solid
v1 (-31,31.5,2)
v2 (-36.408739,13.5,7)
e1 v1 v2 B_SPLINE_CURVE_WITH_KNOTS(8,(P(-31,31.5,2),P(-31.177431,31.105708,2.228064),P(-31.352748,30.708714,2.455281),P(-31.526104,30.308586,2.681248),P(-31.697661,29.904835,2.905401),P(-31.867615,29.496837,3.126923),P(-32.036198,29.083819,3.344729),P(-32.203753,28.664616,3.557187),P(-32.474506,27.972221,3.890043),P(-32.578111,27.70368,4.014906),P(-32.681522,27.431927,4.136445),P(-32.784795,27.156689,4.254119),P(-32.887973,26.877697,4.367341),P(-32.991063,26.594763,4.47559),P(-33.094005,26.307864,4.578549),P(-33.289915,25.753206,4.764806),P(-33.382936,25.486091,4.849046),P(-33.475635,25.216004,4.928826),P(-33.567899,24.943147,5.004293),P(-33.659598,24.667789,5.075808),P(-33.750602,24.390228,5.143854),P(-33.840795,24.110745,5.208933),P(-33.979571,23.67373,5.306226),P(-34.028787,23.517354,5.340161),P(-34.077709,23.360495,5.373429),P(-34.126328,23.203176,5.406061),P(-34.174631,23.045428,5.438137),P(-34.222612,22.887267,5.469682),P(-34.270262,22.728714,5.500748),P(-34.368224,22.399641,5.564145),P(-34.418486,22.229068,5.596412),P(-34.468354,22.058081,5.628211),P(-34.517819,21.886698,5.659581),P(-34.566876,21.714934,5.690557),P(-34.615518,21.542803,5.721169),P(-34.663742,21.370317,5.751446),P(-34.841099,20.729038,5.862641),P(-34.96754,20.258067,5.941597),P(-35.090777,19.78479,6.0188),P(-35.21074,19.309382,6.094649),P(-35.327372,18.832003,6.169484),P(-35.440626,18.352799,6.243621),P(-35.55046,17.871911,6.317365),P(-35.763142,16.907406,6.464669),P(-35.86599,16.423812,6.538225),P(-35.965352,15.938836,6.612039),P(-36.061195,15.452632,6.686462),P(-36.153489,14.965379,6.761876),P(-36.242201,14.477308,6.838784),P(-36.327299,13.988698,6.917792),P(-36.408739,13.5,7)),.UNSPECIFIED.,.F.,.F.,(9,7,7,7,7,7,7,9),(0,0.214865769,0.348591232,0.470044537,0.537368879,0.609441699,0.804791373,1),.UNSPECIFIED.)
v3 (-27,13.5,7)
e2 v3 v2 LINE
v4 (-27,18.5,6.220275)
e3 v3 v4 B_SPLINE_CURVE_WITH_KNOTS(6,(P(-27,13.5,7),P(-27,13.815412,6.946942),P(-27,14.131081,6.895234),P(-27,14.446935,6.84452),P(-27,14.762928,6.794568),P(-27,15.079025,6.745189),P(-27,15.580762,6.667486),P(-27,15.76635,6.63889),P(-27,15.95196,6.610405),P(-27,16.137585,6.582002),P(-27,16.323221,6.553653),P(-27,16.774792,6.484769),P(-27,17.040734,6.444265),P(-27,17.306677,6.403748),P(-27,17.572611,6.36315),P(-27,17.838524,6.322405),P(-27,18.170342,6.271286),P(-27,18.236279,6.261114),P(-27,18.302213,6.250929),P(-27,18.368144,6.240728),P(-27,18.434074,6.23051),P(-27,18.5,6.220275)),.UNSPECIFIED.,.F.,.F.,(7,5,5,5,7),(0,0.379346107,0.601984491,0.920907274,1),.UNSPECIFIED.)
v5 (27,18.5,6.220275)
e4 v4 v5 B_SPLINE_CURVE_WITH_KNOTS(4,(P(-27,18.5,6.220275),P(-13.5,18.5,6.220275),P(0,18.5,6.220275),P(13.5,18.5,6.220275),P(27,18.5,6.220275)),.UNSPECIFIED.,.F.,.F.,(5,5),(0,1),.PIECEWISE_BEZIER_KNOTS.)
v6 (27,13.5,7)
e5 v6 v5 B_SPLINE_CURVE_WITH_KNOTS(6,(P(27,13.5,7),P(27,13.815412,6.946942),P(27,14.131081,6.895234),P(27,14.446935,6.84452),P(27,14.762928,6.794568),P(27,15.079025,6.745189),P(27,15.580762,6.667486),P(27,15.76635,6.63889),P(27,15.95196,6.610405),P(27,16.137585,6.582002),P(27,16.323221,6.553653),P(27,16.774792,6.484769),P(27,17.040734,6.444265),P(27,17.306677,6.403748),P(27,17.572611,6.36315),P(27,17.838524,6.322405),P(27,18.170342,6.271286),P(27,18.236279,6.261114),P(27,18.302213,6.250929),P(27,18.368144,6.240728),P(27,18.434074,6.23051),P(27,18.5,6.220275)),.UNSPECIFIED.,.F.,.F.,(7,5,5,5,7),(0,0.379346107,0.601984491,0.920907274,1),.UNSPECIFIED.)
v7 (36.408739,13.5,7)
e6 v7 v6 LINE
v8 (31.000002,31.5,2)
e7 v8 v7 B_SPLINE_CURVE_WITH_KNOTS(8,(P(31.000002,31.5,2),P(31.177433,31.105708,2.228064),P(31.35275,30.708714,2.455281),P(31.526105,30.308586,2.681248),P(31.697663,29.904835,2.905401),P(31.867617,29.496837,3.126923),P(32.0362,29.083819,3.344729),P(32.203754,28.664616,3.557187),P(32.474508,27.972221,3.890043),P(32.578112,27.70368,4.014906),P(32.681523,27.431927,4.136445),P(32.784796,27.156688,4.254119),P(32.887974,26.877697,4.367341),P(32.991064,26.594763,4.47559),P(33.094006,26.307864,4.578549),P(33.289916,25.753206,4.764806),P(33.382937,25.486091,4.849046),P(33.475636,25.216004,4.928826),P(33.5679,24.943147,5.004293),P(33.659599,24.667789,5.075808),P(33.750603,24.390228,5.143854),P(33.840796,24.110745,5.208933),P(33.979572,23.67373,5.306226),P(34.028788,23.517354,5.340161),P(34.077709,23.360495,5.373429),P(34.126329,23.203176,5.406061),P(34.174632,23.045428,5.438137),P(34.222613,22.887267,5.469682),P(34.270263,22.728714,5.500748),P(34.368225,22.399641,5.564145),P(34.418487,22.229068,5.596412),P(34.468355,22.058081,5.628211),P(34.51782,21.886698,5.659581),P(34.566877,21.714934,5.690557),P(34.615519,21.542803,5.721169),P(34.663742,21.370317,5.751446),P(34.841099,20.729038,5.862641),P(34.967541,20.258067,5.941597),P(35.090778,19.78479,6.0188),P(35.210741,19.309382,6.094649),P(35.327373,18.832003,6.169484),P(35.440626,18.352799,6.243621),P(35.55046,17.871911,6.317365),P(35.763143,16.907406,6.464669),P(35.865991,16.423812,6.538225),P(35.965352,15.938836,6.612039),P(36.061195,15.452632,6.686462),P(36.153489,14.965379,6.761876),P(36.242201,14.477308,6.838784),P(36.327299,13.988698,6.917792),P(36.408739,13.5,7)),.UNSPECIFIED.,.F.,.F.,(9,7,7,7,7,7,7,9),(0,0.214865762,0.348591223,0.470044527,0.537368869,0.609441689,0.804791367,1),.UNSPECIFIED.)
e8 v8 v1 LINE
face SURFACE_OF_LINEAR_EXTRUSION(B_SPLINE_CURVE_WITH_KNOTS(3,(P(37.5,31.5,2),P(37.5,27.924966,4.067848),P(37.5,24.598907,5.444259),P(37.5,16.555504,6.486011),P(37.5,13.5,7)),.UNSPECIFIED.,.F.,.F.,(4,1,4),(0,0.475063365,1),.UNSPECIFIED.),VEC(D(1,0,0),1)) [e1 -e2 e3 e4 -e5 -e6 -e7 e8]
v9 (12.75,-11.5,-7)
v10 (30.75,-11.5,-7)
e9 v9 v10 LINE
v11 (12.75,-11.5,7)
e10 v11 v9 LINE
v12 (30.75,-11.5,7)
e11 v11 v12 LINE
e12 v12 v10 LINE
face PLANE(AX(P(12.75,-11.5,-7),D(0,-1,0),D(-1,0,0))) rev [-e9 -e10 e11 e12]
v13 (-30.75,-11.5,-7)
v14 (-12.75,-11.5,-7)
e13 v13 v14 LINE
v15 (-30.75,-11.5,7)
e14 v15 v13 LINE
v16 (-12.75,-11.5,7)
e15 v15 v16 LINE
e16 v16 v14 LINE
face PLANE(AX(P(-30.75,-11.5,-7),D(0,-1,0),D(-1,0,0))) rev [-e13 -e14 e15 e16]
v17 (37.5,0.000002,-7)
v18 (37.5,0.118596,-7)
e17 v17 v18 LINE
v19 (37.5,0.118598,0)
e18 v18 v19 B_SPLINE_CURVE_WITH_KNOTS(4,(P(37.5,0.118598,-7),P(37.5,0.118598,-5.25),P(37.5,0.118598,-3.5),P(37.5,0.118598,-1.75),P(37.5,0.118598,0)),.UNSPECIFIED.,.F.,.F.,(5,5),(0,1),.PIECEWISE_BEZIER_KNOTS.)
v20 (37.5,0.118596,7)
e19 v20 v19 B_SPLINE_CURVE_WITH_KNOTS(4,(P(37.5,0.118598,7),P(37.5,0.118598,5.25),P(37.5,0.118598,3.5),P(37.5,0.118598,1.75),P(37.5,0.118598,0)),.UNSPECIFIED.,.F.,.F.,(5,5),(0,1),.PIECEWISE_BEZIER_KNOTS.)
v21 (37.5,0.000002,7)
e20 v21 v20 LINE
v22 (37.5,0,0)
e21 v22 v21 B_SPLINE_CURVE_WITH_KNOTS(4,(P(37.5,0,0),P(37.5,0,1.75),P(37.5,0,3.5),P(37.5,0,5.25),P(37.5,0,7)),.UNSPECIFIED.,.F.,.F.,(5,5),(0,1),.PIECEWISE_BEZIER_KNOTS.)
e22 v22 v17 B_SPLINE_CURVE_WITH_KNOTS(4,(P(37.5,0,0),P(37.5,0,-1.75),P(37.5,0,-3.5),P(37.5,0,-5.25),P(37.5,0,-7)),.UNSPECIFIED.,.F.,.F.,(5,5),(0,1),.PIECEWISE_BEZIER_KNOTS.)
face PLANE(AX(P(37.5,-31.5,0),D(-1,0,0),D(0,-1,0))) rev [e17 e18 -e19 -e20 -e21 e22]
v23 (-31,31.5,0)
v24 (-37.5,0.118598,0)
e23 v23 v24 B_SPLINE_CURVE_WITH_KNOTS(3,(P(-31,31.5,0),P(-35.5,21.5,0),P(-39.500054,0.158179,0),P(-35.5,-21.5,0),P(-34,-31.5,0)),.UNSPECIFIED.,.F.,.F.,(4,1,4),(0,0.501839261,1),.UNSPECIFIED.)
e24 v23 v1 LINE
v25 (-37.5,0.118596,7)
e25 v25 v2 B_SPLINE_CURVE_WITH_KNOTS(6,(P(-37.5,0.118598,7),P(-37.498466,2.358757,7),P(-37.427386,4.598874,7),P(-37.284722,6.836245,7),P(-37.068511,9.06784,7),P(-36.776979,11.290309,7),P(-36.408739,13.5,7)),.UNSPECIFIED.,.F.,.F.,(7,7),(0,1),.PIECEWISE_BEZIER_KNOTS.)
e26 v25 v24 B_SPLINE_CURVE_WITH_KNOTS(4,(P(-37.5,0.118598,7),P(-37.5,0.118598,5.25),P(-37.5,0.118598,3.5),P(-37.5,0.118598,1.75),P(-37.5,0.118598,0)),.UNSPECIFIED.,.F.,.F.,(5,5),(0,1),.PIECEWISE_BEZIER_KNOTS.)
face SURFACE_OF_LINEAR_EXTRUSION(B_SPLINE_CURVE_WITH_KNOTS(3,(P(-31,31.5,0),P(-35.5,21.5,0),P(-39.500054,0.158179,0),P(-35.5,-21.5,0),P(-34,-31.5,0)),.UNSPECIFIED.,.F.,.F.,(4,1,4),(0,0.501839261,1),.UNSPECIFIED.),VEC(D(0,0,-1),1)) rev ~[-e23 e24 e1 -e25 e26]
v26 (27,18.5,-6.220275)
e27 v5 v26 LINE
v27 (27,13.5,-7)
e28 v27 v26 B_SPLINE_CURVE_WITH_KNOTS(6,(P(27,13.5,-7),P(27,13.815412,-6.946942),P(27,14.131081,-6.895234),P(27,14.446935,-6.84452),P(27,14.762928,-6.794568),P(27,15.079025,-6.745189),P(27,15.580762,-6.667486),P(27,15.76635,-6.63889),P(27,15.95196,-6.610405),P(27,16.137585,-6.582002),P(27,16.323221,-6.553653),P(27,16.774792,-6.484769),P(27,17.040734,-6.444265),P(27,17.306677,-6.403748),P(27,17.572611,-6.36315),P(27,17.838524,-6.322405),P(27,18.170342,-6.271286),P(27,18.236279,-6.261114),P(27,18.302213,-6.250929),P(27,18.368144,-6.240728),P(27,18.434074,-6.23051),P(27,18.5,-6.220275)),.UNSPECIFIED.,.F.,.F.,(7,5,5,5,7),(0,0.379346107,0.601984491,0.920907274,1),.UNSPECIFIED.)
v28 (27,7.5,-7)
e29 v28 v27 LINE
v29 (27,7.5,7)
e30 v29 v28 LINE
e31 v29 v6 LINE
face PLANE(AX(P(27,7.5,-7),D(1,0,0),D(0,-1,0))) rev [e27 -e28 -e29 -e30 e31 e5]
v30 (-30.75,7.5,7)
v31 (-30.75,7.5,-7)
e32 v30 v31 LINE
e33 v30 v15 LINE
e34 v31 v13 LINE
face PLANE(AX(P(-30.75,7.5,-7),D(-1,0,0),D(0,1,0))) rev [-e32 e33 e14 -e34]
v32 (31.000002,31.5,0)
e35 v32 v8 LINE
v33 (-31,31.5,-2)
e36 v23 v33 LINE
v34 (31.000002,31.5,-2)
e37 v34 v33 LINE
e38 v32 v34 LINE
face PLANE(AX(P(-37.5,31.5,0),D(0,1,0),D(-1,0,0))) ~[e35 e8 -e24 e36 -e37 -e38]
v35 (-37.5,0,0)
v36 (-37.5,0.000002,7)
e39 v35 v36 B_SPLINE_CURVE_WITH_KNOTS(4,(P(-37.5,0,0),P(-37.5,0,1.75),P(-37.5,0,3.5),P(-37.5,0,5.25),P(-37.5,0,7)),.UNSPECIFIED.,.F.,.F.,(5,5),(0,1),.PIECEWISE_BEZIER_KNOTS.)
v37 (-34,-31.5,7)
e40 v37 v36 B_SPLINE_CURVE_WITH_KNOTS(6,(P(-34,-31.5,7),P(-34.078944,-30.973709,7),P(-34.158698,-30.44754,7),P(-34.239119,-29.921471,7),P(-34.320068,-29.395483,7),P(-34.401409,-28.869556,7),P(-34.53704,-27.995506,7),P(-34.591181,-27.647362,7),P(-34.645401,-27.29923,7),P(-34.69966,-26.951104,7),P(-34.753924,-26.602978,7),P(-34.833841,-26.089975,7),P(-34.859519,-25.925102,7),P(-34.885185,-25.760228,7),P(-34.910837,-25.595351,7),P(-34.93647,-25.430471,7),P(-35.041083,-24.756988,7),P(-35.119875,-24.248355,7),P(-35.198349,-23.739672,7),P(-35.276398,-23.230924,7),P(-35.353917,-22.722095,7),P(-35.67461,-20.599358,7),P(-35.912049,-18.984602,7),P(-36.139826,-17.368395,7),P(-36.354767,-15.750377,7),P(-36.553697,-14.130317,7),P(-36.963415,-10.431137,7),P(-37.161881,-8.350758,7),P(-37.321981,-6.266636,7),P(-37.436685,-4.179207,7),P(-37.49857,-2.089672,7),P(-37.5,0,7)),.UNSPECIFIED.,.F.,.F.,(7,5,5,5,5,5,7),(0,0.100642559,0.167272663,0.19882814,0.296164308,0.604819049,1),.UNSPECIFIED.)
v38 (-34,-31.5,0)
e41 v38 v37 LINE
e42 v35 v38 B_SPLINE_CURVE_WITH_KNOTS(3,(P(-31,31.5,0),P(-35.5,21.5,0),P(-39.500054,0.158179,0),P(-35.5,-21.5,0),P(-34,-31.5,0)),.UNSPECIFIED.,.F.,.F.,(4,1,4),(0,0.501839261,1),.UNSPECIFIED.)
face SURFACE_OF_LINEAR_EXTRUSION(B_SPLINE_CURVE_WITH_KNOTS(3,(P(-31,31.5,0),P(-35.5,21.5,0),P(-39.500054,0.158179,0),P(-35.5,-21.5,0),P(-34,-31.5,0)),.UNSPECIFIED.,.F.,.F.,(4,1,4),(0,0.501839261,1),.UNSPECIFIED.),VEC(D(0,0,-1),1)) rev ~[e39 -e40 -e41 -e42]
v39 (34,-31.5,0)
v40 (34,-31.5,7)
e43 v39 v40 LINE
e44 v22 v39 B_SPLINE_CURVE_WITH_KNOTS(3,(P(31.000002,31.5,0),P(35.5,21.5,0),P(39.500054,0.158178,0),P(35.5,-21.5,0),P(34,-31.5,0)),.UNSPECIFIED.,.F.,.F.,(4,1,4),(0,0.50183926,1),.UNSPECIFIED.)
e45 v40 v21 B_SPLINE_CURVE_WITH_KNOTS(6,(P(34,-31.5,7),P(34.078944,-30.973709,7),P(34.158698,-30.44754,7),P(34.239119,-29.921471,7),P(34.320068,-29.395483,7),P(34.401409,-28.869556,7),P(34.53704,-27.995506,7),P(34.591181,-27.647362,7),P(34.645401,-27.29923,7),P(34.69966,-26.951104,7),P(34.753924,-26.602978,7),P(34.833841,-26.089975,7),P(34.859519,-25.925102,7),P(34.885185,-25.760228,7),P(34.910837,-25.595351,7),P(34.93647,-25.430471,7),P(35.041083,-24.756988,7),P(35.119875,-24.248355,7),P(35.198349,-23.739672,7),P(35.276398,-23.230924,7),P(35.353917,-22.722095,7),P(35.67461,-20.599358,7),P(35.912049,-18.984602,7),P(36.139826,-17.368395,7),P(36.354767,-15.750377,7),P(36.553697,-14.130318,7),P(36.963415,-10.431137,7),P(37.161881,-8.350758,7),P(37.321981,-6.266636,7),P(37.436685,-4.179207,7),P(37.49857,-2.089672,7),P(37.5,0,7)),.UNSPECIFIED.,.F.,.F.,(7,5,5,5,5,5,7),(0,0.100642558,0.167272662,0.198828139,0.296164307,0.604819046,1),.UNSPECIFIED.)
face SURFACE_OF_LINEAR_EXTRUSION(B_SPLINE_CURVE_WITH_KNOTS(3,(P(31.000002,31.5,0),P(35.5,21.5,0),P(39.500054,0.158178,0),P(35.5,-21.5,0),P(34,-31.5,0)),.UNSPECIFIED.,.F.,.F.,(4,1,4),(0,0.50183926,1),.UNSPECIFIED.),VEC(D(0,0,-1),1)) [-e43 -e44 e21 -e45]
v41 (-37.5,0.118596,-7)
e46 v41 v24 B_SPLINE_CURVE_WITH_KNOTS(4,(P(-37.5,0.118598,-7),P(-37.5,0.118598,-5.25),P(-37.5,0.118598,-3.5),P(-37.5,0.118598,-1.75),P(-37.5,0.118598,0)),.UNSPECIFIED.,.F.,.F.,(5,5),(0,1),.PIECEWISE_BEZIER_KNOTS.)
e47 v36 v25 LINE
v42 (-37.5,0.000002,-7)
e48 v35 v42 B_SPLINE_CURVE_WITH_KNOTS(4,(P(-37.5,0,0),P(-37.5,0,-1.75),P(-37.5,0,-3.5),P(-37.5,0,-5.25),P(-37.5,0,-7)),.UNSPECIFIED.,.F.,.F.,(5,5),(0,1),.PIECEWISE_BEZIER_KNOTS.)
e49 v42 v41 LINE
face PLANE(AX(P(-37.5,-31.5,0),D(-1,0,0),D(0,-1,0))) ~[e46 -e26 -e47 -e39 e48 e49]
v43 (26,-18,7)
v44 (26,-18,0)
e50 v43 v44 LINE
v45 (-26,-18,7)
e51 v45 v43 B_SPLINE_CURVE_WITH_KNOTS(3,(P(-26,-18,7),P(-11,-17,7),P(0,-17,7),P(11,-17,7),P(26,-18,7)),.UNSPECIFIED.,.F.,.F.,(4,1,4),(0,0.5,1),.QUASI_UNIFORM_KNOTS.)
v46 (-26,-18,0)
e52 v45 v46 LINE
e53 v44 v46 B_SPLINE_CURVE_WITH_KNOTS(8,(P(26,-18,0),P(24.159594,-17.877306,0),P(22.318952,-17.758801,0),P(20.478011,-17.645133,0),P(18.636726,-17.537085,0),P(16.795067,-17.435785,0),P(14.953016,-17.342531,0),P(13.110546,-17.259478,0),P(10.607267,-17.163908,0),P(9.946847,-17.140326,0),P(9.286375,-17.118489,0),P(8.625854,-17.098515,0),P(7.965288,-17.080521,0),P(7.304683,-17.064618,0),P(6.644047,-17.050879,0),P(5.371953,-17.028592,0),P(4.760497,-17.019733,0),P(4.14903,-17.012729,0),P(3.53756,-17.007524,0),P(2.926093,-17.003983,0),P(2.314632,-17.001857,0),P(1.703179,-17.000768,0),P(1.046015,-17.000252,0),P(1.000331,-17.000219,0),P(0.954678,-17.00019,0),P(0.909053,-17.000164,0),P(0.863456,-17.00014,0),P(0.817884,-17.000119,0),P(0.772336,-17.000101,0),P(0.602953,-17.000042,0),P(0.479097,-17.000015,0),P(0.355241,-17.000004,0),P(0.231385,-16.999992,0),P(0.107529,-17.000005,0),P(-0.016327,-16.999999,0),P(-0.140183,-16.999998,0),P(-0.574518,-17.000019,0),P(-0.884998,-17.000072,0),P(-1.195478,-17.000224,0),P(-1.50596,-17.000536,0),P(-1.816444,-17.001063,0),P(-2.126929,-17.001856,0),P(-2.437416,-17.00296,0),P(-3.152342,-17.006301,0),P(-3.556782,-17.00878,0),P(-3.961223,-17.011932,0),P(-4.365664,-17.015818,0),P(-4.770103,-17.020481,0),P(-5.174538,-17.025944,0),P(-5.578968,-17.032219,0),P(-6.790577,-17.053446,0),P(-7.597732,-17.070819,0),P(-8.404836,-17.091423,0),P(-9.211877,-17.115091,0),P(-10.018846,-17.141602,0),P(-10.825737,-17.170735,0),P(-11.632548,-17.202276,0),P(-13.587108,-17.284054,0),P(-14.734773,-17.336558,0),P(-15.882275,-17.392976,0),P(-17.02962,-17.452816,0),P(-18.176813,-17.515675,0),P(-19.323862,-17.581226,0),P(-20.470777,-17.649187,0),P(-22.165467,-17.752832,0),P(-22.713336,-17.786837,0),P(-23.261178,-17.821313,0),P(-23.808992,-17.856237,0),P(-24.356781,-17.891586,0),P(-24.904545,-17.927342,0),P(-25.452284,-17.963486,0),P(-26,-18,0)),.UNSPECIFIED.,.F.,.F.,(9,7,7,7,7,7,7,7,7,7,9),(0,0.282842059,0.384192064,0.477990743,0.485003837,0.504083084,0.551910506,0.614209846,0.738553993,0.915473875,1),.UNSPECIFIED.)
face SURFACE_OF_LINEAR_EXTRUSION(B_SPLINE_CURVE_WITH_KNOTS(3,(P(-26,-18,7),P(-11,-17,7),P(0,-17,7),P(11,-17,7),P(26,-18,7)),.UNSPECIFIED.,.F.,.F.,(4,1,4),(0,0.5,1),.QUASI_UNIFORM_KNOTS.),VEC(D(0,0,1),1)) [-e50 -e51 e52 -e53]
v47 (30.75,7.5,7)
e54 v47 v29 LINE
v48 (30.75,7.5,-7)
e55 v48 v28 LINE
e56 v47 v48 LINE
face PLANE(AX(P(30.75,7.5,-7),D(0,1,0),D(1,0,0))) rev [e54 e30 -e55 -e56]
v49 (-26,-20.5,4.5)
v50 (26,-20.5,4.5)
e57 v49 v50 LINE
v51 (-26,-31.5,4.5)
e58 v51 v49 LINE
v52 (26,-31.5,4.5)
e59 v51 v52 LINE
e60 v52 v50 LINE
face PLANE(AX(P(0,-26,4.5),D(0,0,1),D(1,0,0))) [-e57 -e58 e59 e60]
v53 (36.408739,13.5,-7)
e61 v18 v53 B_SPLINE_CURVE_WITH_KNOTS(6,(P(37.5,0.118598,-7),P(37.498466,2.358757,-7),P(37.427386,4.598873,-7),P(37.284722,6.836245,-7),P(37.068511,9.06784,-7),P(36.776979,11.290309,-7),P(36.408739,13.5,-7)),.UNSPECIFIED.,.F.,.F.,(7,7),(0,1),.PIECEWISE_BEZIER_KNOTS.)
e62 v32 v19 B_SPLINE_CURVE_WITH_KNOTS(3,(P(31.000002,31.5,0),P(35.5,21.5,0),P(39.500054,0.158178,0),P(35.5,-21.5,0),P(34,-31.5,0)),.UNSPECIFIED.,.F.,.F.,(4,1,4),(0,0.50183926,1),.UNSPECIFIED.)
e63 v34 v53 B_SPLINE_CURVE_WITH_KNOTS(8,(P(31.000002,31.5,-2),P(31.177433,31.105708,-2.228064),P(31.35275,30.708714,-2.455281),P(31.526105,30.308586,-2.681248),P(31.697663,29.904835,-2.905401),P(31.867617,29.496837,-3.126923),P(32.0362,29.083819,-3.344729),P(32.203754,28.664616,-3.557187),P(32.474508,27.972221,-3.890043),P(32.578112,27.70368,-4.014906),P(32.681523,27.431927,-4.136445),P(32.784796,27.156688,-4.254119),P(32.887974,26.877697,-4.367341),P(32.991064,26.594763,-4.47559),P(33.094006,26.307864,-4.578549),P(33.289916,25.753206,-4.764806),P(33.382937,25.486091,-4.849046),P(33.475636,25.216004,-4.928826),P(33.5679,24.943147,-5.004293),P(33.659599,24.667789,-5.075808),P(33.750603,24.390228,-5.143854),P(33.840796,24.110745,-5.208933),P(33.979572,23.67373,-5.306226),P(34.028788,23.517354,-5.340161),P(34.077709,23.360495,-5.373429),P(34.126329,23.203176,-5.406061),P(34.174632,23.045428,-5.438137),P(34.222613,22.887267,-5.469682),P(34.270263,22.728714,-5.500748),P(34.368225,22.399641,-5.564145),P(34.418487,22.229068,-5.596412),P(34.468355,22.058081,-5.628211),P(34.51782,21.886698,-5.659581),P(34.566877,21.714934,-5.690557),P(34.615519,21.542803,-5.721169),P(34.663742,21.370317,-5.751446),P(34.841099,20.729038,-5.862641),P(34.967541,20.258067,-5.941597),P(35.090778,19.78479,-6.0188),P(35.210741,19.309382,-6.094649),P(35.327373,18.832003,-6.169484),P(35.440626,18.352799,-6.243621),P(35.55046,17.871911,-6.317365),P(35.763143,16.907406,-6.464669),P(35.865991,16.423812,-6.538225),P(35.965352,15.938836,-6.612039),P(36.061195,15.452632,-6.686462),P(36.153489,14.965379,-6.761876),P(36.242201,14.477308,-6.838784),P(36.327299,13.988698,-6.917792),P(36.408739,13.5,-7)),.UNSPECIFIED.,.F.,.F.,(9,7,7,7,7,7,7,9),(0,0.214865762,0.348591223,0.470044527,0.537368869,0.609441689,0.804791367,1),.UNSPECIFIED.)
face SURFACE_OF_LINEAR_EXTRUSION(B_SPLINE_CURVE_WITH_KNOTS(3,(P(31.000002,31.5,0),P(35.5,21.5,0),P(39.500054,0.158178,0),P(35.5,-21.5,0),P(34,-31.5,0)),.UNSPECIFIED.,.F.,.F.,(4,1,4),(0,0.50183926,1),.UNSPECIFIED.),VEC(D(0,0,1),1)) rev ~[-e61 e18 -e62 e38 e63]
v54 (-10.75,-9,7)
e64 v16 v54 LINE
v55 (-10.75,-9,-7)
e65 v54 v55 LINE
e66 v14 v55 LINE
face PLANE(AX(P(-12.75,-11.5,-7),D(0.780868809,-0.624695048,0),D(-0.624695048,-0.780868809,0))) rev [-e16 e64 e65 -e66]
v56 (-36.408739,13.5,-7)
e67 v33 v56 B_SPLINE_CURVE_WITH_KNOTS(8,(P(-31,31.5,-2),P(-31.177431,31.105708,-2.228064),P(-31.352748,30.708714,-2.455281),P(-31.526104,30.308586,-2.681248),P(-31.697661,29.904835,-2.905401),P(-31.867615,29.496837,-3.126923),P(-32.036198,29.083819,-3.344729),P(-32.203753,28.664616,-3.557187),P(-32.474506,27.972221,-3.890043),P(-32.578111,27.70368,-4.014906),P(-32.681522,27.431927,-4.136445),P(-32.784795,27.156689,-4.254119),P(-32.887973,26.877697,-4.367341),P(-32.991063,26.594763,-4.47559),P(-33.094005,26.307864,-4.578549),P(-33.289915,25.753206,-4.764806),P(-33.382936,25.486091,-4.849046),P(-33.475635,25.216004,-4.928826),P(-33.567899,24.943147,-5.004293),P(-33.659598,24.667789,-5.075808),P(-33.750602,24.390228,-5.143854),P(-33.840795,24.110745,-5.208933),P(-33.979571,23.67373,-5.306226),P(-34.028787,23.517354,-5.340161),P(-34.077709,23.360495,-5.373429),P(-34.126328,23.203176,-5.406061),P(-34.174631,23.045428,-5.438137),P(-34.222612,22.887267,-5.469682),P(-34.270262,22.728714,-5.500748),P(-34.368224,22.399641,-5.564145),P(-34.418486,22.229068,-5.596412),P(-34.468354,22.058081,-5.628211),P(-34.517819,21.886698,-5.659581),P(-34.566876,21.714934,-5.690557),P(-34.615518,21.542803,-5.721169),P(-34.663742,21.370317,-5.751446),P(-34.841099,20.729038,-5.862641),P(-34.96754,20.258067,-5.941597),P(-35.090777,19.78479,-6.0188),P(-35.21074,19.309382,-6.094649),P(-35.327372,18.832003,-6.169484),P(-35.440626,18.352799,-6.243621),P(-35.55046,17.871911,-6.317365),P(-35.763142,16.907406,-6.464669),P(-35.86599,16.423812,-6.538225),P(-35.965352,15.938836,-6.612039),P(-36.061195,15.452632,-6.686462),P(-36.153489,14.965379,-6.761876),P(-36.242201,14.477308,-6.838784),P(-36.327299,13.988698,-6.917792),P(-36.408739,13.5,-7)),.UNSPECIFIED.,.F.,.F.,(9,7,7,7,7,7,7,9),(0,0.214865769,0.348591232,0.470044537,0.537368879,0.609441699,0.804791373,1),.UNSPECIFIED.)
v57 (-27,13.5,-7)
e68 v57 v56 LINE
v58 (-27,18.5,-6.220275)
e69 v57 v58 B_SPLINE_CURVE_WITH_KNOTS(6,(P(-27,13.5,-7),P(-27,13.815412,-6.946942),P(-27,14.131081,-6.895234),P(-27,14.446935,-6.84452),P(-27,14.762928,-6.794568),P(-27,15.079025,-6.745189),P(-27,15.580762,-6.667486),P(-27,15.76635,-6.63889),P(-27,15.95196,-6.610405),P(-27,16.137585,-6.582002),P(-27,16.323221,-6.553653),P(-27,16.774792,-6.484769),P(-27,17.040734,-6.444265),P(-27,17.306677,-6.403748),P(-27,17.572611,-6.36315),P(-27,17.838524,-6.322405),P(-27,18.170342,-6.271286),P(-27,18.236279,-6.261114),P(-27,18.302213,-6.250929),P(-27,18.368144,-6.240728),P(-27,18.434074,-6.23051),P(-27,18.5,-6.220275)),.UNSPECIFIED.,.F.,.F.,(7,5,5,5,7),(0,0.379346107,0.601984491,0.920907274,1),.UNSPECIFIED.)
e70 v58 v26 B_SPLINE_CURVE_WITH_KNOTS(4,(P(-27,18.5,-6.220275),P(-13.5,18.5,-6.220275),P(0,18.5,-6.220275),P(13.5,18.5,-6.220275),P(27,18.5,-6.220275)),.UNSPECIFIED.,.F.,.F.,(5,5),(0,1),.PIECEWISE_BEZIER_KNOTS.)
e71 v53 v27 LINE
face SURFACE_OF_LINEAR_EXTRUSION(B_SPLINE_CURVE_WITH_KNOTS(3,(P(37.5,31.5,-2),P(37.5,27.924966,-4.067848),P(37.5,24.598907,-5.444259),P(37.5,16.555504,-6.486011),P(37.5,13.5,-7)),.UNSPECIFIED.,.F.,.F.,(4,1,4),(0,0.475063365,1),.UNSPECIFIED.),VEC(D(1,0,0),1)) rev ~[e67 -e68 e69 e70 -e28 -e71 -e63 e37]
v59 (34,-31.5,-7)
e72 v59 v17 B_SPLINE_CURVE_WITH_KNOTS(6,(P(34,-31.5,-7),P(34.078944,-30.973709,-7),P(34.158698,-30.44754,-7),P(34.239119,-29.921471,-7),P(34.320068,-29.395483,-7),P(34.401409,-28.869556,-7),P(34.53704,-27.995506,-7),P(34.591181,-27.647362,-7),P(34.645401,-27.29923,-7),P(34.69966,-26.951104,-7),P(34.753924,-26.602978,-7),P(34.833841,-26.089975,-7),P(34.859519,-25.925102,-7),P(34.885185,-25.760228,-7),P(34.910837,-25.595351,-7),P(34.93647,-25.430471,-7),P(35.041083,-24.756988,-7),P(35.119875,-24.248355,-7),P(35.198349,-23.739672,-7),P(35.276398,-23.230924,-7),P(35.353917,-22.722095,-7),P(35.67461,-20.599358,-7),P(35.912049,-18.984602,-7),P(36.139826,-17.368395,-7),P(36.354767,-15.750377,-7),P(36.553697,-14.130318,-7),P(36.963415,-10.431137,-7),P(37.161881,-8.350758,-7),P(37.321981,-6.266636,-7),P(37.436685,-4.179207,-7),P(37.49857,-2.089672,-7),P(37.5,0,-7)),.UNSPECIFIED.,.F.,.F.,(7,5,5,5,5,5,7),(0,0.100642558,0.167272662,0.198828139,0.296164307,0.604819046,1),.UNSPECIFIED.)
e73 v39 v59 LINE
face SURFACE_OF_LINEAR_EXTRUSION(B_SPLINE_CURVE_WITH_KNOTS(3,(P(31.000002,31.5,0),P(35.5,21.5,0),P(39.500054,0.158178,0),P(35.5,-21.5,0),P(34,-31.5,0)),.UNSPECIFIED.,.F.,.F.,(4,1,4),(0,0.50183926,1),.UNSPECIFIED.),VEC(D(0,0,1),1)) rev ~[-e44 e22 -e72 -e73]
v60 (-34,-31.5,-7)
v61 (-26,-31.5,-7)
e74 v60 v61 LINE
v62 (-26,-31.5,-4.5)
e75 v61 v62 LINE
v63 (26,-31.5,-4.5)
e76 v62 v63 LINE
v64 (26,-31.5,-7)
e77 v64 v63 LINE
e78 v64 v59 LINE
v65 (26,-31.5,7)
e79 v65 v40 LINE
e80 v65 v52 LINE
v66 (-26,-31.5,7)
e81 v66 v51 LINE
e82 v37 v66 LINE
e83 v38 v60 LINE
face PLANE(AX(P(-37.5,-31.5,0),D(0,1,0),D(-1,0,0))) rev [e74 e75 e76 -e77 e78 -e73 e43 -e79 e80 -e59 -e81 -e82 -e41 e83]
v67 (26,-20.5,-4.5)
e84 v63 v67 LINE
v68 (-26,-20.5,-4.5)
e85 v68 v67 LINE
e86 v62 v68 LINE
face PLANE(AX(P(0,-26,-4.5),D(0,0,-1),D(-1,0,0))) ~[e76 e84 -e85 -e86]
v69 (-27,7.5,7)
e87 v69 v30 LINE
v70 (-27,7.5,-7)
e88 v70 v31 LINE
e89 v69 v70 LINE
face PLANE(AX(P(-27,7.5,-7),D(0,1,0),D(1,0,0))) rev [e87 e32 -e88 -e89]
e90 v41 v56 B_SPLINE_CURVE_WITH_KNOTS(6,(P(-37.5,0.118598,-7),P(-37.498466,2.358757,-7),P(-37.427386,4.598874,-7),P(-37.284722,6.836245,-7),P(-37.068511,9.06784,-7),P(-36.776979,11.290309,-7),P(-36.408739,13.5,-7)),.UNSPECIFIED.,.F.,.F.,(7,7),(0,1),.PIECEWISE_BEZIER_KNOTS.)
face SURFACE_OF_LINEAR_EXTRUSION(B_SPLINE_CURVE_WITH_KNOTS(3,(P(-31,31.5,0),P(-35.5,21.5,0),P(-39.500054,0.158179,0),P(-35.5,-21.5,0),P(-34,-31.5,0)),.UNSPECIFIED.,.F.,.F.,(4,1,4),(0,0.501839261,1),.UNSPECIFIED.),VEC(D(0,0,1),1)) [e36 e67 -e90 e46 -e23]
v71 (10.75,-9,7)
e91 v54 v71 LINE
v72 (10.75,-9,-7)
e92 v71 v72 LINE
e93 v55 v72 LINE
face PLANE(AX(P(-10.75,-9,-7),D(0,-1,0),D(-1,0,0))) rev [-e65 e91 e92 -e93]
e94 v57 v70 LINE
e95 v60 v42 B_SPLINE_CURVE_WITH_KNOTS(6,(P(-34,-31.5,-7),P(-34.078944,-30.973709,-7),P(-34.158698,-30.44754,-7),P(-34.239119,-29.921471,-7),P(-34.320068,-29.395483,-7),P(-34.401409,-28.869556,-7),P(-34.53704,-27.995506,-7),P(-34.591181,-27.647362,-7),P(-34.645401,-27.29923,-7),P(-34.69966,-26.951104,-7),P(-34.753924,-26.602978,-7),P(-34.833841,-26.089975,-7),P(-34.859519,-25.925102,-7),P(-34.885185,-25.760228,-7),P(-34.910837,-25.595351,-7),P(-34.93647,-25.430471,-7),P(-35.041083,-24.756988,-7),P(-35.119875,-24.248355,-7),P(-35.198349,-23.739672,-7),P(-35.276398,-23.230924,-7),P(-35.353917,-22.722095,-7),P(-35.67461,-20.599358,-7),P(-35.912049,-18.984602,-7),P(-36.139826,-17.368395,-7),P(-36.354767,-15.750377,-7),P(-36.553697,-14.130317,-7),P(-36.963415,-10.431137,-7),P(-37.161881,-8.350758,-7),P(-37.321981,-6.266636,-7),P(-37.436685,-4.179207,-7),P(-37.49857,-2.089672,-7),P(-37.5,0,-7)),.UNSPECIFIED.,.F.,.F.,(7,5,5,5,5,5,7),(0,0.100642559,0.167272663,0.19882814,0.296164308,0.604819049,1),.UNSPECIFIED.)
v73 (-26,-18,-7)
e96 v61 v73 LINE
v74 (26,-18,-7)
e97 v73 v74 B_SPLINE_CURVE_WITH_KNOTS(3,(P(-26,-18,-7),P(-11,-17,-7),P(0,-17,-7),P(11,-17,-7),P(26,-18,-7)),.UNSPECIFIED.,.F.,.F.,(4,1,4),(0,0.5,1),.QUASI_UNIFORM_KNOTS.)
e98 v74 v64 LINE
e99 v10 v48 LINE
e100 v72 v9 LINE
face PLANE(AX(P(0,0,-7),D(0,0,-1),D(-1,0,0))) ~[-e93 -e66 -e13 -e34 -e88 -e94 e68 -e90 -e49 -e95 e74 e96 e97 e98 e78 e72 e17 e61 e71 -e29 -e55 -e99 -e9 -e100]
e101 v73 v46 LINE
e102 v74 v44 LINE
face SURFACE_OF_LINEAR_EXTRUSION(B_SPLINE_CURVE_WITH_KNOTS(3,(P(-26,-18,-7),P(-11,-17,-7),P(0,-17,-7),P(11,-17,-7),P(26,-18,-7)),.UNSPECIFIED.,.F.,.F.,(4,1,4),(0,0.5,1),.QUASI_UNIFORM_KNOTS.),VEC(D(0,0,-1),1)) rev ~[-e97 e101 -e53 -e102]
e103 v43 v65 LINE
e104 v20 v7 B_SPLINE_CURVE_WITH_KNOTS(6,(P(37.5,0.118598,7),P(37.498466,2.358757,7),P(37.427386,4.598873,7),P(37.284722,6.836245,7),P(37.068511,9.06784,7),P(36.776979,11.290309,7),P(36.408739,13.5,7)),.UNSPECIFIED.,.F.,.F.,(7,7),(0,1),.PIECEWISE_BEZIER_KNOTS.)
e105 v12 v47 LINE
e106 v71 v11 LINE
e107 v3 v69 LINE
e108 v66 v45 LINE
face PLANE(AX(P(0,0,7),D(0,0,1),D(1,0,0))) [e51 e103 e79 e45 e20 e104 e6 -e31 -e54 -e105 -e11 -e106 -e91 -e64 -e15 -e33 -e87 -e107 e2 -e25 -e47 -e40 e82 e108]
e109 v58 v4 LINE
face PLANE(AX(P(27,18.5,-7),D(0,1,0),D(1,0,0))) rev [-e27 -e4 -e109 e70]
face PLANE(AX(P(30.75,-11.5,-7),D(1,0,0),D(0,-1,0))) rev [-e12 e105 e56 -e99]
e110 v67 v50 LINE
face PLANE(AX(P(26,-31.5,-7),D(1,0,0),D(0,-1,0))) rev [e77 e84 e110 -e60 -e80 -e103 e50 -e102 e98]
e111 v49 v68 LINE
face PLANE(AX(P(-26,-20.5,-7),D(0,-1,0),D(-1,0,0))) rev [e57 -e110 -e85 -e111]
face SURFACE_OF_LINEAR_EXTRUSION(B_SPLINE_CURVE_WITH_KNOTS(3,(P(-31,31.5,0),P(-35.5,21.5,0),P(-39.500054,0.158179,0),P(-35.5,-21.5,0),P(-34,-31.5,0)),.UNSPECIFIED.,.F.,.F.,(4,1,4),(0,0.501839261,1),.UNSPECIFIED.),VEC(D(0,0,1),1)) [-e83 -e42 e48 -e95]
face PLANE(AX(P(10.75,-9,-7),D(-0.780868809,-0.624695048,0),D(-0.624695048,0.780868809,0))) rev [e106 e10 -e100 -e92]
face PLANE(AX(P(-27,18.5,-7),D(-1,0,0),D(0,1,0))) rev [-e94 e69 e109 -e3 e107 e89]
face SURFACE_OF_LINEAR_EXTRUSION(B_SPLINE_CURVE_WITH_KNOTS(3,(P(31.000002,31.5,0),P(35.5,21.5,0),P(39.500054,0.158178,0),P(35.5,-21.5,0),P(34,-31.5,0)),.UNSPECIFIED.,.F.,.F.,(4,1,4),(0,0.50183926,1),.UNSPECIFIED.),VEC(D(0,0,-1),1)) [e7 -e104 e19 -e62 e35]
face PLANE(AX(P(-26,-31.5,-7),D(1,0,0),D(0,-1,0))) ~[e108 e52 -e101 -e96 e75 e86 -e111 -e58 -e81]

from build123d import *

# Parameters (mm, degrees)
F0_W      = 75
F0_H      = 63
F1_DEPTH  = 7
F3_DEPTH  = 25
F5_DEPTH  = 25
F7_W      = 52
F7_H      = 11
F8_DEPTH  = 2.5
F10_DEPTH = 80
F12_DEPTH = 25


with BuildPart() as f1:
    # F0 (on Top) → F1 (new body)
    with BuildSketch(Plane.XY):
        Rectangle(F0_W, F0_H)
    extrude(amount=F1_DEPTH)

    # F2 (on face) → F3 (cut)
    with BuildSketch(Plane.XY.offset(7)):
        Polygon((27, 18.5), (-27, 18.5), (-27, 7.5), (-30.75, 7.5), (-30.75, -11.5), (-12.75, -11.5), (-10.75, -9), (10.75, -9), (12.75, -11.5), (30.75, -11.5), (30.75, 7.5), (27, 7.5), align=None)
    extrude(amount=-F3_DEPTH, mode=Mode.SUBTRACT)

    # F4 (on face) → F5 (cut)
    with BuildSketch(Plane.XY.offset(7)):
        with BuildLine():
            Line((-26, -18), (-26, -20.5))
            Line((-26, -20.5), (26, -20.5))
            Line((26, -20.5), (26, -18))
            add(Edge.make_bspline(
                [(-26, -18), (-11, -17), (0, -17), (11, -17), (26, -18)],
                knots=[0, 0, 0, 0, 0.5, 1, 1, 1, 1], degree=3))
        make_face()
    extrude(amount=-F5_DEPTH, mode=Mode.SUBTRACT)

    # F7 (on face) → F8 (cut)
    with BuildSketch(Plane.XY.offset(7)):
        with Locations((0, -26)):
            Rectangle(F7_W, F7_H)
    extrude(amount=-F8_DEPTH, mode=Mode.SUBTRACT)

    # F9 (on face) → F10 (cut)
    with BuildSketch(Plane.YZ.offset(37.5)):
        with BuildLine():
            Line((-31.5, 11.1092058942), (-31.5, 7))
            Line((-31.5, 7), (13.5, 7))
            add(Edge.make_bspline(
                [(31.5, 2), (27.9249660671, 4.0678475052), (24.5989065318, 5.4442587825), (16.5555038096, 6.4860110295), (13.5, 7)],
                knots=[0, 0, 0, 0, 0.4750633648, 1, 1, 1, 1], degree=3))
            Line((31.5, 2), (31.5, 11.1092058942))
            Line((31.5, 11.1092058942), (-31.5, 11.1092058942))
        make_face()
    extrude(amount=-F10_DEPTH, mode=Mode.SUBTRACT)

    # F11 (on Top) → F12 (cut)
    with BuildSketch(Plane.XY):
        with BuildLine():
            add(Edge.make_bspline(
                [(-31, 31.5), (-35.5, 21.5), (-39.5000541268, 0.1581786089), (-35.5, -21.5), (-34, -31.5)],
                knots=[0, 0, 0, 0, 0.5018392613, 1, 1, 1, 1], degree=3))
            Line((-31, 31.5), (-43.3181733368, 37.5741338942))
            Line((-43.3181733368, 37.5741338942), (-41.833250428, -36.0357076911))
            Line((-41.833250428, -36.0357076911), (-34, -31.5))
        make_face()
        with BuildLine():
            Line((39.6972207541, 40.7548360527), (31.0000020678, 31.5))
            add(Edge.make_bspline(
                [(31.0000020678, 31.5), (35.5, 21.5), (39.5000541267, 0.1581784693), (35.5, -21.5), (34, -31.5)],
                knots=[0, 0, 0, 0, 0.5018392596, 1, 1, 1, 1], degree=3))
            Line((34, -31.5), (45.6182770431, -33.850427717))
            Line((45.6182770431, -33.850427717), (39.6972207541, 40.7548360527))
        make_face()
    extrude(amount=F12_DEPTH, mode=Mode.SUBTRACT)

    # F13: F1 across plane


with BuildPart() as f1_1:
    add(f1.part)
    add(f1.part.mirror(Plane.XY))


solid = f1_1.part
